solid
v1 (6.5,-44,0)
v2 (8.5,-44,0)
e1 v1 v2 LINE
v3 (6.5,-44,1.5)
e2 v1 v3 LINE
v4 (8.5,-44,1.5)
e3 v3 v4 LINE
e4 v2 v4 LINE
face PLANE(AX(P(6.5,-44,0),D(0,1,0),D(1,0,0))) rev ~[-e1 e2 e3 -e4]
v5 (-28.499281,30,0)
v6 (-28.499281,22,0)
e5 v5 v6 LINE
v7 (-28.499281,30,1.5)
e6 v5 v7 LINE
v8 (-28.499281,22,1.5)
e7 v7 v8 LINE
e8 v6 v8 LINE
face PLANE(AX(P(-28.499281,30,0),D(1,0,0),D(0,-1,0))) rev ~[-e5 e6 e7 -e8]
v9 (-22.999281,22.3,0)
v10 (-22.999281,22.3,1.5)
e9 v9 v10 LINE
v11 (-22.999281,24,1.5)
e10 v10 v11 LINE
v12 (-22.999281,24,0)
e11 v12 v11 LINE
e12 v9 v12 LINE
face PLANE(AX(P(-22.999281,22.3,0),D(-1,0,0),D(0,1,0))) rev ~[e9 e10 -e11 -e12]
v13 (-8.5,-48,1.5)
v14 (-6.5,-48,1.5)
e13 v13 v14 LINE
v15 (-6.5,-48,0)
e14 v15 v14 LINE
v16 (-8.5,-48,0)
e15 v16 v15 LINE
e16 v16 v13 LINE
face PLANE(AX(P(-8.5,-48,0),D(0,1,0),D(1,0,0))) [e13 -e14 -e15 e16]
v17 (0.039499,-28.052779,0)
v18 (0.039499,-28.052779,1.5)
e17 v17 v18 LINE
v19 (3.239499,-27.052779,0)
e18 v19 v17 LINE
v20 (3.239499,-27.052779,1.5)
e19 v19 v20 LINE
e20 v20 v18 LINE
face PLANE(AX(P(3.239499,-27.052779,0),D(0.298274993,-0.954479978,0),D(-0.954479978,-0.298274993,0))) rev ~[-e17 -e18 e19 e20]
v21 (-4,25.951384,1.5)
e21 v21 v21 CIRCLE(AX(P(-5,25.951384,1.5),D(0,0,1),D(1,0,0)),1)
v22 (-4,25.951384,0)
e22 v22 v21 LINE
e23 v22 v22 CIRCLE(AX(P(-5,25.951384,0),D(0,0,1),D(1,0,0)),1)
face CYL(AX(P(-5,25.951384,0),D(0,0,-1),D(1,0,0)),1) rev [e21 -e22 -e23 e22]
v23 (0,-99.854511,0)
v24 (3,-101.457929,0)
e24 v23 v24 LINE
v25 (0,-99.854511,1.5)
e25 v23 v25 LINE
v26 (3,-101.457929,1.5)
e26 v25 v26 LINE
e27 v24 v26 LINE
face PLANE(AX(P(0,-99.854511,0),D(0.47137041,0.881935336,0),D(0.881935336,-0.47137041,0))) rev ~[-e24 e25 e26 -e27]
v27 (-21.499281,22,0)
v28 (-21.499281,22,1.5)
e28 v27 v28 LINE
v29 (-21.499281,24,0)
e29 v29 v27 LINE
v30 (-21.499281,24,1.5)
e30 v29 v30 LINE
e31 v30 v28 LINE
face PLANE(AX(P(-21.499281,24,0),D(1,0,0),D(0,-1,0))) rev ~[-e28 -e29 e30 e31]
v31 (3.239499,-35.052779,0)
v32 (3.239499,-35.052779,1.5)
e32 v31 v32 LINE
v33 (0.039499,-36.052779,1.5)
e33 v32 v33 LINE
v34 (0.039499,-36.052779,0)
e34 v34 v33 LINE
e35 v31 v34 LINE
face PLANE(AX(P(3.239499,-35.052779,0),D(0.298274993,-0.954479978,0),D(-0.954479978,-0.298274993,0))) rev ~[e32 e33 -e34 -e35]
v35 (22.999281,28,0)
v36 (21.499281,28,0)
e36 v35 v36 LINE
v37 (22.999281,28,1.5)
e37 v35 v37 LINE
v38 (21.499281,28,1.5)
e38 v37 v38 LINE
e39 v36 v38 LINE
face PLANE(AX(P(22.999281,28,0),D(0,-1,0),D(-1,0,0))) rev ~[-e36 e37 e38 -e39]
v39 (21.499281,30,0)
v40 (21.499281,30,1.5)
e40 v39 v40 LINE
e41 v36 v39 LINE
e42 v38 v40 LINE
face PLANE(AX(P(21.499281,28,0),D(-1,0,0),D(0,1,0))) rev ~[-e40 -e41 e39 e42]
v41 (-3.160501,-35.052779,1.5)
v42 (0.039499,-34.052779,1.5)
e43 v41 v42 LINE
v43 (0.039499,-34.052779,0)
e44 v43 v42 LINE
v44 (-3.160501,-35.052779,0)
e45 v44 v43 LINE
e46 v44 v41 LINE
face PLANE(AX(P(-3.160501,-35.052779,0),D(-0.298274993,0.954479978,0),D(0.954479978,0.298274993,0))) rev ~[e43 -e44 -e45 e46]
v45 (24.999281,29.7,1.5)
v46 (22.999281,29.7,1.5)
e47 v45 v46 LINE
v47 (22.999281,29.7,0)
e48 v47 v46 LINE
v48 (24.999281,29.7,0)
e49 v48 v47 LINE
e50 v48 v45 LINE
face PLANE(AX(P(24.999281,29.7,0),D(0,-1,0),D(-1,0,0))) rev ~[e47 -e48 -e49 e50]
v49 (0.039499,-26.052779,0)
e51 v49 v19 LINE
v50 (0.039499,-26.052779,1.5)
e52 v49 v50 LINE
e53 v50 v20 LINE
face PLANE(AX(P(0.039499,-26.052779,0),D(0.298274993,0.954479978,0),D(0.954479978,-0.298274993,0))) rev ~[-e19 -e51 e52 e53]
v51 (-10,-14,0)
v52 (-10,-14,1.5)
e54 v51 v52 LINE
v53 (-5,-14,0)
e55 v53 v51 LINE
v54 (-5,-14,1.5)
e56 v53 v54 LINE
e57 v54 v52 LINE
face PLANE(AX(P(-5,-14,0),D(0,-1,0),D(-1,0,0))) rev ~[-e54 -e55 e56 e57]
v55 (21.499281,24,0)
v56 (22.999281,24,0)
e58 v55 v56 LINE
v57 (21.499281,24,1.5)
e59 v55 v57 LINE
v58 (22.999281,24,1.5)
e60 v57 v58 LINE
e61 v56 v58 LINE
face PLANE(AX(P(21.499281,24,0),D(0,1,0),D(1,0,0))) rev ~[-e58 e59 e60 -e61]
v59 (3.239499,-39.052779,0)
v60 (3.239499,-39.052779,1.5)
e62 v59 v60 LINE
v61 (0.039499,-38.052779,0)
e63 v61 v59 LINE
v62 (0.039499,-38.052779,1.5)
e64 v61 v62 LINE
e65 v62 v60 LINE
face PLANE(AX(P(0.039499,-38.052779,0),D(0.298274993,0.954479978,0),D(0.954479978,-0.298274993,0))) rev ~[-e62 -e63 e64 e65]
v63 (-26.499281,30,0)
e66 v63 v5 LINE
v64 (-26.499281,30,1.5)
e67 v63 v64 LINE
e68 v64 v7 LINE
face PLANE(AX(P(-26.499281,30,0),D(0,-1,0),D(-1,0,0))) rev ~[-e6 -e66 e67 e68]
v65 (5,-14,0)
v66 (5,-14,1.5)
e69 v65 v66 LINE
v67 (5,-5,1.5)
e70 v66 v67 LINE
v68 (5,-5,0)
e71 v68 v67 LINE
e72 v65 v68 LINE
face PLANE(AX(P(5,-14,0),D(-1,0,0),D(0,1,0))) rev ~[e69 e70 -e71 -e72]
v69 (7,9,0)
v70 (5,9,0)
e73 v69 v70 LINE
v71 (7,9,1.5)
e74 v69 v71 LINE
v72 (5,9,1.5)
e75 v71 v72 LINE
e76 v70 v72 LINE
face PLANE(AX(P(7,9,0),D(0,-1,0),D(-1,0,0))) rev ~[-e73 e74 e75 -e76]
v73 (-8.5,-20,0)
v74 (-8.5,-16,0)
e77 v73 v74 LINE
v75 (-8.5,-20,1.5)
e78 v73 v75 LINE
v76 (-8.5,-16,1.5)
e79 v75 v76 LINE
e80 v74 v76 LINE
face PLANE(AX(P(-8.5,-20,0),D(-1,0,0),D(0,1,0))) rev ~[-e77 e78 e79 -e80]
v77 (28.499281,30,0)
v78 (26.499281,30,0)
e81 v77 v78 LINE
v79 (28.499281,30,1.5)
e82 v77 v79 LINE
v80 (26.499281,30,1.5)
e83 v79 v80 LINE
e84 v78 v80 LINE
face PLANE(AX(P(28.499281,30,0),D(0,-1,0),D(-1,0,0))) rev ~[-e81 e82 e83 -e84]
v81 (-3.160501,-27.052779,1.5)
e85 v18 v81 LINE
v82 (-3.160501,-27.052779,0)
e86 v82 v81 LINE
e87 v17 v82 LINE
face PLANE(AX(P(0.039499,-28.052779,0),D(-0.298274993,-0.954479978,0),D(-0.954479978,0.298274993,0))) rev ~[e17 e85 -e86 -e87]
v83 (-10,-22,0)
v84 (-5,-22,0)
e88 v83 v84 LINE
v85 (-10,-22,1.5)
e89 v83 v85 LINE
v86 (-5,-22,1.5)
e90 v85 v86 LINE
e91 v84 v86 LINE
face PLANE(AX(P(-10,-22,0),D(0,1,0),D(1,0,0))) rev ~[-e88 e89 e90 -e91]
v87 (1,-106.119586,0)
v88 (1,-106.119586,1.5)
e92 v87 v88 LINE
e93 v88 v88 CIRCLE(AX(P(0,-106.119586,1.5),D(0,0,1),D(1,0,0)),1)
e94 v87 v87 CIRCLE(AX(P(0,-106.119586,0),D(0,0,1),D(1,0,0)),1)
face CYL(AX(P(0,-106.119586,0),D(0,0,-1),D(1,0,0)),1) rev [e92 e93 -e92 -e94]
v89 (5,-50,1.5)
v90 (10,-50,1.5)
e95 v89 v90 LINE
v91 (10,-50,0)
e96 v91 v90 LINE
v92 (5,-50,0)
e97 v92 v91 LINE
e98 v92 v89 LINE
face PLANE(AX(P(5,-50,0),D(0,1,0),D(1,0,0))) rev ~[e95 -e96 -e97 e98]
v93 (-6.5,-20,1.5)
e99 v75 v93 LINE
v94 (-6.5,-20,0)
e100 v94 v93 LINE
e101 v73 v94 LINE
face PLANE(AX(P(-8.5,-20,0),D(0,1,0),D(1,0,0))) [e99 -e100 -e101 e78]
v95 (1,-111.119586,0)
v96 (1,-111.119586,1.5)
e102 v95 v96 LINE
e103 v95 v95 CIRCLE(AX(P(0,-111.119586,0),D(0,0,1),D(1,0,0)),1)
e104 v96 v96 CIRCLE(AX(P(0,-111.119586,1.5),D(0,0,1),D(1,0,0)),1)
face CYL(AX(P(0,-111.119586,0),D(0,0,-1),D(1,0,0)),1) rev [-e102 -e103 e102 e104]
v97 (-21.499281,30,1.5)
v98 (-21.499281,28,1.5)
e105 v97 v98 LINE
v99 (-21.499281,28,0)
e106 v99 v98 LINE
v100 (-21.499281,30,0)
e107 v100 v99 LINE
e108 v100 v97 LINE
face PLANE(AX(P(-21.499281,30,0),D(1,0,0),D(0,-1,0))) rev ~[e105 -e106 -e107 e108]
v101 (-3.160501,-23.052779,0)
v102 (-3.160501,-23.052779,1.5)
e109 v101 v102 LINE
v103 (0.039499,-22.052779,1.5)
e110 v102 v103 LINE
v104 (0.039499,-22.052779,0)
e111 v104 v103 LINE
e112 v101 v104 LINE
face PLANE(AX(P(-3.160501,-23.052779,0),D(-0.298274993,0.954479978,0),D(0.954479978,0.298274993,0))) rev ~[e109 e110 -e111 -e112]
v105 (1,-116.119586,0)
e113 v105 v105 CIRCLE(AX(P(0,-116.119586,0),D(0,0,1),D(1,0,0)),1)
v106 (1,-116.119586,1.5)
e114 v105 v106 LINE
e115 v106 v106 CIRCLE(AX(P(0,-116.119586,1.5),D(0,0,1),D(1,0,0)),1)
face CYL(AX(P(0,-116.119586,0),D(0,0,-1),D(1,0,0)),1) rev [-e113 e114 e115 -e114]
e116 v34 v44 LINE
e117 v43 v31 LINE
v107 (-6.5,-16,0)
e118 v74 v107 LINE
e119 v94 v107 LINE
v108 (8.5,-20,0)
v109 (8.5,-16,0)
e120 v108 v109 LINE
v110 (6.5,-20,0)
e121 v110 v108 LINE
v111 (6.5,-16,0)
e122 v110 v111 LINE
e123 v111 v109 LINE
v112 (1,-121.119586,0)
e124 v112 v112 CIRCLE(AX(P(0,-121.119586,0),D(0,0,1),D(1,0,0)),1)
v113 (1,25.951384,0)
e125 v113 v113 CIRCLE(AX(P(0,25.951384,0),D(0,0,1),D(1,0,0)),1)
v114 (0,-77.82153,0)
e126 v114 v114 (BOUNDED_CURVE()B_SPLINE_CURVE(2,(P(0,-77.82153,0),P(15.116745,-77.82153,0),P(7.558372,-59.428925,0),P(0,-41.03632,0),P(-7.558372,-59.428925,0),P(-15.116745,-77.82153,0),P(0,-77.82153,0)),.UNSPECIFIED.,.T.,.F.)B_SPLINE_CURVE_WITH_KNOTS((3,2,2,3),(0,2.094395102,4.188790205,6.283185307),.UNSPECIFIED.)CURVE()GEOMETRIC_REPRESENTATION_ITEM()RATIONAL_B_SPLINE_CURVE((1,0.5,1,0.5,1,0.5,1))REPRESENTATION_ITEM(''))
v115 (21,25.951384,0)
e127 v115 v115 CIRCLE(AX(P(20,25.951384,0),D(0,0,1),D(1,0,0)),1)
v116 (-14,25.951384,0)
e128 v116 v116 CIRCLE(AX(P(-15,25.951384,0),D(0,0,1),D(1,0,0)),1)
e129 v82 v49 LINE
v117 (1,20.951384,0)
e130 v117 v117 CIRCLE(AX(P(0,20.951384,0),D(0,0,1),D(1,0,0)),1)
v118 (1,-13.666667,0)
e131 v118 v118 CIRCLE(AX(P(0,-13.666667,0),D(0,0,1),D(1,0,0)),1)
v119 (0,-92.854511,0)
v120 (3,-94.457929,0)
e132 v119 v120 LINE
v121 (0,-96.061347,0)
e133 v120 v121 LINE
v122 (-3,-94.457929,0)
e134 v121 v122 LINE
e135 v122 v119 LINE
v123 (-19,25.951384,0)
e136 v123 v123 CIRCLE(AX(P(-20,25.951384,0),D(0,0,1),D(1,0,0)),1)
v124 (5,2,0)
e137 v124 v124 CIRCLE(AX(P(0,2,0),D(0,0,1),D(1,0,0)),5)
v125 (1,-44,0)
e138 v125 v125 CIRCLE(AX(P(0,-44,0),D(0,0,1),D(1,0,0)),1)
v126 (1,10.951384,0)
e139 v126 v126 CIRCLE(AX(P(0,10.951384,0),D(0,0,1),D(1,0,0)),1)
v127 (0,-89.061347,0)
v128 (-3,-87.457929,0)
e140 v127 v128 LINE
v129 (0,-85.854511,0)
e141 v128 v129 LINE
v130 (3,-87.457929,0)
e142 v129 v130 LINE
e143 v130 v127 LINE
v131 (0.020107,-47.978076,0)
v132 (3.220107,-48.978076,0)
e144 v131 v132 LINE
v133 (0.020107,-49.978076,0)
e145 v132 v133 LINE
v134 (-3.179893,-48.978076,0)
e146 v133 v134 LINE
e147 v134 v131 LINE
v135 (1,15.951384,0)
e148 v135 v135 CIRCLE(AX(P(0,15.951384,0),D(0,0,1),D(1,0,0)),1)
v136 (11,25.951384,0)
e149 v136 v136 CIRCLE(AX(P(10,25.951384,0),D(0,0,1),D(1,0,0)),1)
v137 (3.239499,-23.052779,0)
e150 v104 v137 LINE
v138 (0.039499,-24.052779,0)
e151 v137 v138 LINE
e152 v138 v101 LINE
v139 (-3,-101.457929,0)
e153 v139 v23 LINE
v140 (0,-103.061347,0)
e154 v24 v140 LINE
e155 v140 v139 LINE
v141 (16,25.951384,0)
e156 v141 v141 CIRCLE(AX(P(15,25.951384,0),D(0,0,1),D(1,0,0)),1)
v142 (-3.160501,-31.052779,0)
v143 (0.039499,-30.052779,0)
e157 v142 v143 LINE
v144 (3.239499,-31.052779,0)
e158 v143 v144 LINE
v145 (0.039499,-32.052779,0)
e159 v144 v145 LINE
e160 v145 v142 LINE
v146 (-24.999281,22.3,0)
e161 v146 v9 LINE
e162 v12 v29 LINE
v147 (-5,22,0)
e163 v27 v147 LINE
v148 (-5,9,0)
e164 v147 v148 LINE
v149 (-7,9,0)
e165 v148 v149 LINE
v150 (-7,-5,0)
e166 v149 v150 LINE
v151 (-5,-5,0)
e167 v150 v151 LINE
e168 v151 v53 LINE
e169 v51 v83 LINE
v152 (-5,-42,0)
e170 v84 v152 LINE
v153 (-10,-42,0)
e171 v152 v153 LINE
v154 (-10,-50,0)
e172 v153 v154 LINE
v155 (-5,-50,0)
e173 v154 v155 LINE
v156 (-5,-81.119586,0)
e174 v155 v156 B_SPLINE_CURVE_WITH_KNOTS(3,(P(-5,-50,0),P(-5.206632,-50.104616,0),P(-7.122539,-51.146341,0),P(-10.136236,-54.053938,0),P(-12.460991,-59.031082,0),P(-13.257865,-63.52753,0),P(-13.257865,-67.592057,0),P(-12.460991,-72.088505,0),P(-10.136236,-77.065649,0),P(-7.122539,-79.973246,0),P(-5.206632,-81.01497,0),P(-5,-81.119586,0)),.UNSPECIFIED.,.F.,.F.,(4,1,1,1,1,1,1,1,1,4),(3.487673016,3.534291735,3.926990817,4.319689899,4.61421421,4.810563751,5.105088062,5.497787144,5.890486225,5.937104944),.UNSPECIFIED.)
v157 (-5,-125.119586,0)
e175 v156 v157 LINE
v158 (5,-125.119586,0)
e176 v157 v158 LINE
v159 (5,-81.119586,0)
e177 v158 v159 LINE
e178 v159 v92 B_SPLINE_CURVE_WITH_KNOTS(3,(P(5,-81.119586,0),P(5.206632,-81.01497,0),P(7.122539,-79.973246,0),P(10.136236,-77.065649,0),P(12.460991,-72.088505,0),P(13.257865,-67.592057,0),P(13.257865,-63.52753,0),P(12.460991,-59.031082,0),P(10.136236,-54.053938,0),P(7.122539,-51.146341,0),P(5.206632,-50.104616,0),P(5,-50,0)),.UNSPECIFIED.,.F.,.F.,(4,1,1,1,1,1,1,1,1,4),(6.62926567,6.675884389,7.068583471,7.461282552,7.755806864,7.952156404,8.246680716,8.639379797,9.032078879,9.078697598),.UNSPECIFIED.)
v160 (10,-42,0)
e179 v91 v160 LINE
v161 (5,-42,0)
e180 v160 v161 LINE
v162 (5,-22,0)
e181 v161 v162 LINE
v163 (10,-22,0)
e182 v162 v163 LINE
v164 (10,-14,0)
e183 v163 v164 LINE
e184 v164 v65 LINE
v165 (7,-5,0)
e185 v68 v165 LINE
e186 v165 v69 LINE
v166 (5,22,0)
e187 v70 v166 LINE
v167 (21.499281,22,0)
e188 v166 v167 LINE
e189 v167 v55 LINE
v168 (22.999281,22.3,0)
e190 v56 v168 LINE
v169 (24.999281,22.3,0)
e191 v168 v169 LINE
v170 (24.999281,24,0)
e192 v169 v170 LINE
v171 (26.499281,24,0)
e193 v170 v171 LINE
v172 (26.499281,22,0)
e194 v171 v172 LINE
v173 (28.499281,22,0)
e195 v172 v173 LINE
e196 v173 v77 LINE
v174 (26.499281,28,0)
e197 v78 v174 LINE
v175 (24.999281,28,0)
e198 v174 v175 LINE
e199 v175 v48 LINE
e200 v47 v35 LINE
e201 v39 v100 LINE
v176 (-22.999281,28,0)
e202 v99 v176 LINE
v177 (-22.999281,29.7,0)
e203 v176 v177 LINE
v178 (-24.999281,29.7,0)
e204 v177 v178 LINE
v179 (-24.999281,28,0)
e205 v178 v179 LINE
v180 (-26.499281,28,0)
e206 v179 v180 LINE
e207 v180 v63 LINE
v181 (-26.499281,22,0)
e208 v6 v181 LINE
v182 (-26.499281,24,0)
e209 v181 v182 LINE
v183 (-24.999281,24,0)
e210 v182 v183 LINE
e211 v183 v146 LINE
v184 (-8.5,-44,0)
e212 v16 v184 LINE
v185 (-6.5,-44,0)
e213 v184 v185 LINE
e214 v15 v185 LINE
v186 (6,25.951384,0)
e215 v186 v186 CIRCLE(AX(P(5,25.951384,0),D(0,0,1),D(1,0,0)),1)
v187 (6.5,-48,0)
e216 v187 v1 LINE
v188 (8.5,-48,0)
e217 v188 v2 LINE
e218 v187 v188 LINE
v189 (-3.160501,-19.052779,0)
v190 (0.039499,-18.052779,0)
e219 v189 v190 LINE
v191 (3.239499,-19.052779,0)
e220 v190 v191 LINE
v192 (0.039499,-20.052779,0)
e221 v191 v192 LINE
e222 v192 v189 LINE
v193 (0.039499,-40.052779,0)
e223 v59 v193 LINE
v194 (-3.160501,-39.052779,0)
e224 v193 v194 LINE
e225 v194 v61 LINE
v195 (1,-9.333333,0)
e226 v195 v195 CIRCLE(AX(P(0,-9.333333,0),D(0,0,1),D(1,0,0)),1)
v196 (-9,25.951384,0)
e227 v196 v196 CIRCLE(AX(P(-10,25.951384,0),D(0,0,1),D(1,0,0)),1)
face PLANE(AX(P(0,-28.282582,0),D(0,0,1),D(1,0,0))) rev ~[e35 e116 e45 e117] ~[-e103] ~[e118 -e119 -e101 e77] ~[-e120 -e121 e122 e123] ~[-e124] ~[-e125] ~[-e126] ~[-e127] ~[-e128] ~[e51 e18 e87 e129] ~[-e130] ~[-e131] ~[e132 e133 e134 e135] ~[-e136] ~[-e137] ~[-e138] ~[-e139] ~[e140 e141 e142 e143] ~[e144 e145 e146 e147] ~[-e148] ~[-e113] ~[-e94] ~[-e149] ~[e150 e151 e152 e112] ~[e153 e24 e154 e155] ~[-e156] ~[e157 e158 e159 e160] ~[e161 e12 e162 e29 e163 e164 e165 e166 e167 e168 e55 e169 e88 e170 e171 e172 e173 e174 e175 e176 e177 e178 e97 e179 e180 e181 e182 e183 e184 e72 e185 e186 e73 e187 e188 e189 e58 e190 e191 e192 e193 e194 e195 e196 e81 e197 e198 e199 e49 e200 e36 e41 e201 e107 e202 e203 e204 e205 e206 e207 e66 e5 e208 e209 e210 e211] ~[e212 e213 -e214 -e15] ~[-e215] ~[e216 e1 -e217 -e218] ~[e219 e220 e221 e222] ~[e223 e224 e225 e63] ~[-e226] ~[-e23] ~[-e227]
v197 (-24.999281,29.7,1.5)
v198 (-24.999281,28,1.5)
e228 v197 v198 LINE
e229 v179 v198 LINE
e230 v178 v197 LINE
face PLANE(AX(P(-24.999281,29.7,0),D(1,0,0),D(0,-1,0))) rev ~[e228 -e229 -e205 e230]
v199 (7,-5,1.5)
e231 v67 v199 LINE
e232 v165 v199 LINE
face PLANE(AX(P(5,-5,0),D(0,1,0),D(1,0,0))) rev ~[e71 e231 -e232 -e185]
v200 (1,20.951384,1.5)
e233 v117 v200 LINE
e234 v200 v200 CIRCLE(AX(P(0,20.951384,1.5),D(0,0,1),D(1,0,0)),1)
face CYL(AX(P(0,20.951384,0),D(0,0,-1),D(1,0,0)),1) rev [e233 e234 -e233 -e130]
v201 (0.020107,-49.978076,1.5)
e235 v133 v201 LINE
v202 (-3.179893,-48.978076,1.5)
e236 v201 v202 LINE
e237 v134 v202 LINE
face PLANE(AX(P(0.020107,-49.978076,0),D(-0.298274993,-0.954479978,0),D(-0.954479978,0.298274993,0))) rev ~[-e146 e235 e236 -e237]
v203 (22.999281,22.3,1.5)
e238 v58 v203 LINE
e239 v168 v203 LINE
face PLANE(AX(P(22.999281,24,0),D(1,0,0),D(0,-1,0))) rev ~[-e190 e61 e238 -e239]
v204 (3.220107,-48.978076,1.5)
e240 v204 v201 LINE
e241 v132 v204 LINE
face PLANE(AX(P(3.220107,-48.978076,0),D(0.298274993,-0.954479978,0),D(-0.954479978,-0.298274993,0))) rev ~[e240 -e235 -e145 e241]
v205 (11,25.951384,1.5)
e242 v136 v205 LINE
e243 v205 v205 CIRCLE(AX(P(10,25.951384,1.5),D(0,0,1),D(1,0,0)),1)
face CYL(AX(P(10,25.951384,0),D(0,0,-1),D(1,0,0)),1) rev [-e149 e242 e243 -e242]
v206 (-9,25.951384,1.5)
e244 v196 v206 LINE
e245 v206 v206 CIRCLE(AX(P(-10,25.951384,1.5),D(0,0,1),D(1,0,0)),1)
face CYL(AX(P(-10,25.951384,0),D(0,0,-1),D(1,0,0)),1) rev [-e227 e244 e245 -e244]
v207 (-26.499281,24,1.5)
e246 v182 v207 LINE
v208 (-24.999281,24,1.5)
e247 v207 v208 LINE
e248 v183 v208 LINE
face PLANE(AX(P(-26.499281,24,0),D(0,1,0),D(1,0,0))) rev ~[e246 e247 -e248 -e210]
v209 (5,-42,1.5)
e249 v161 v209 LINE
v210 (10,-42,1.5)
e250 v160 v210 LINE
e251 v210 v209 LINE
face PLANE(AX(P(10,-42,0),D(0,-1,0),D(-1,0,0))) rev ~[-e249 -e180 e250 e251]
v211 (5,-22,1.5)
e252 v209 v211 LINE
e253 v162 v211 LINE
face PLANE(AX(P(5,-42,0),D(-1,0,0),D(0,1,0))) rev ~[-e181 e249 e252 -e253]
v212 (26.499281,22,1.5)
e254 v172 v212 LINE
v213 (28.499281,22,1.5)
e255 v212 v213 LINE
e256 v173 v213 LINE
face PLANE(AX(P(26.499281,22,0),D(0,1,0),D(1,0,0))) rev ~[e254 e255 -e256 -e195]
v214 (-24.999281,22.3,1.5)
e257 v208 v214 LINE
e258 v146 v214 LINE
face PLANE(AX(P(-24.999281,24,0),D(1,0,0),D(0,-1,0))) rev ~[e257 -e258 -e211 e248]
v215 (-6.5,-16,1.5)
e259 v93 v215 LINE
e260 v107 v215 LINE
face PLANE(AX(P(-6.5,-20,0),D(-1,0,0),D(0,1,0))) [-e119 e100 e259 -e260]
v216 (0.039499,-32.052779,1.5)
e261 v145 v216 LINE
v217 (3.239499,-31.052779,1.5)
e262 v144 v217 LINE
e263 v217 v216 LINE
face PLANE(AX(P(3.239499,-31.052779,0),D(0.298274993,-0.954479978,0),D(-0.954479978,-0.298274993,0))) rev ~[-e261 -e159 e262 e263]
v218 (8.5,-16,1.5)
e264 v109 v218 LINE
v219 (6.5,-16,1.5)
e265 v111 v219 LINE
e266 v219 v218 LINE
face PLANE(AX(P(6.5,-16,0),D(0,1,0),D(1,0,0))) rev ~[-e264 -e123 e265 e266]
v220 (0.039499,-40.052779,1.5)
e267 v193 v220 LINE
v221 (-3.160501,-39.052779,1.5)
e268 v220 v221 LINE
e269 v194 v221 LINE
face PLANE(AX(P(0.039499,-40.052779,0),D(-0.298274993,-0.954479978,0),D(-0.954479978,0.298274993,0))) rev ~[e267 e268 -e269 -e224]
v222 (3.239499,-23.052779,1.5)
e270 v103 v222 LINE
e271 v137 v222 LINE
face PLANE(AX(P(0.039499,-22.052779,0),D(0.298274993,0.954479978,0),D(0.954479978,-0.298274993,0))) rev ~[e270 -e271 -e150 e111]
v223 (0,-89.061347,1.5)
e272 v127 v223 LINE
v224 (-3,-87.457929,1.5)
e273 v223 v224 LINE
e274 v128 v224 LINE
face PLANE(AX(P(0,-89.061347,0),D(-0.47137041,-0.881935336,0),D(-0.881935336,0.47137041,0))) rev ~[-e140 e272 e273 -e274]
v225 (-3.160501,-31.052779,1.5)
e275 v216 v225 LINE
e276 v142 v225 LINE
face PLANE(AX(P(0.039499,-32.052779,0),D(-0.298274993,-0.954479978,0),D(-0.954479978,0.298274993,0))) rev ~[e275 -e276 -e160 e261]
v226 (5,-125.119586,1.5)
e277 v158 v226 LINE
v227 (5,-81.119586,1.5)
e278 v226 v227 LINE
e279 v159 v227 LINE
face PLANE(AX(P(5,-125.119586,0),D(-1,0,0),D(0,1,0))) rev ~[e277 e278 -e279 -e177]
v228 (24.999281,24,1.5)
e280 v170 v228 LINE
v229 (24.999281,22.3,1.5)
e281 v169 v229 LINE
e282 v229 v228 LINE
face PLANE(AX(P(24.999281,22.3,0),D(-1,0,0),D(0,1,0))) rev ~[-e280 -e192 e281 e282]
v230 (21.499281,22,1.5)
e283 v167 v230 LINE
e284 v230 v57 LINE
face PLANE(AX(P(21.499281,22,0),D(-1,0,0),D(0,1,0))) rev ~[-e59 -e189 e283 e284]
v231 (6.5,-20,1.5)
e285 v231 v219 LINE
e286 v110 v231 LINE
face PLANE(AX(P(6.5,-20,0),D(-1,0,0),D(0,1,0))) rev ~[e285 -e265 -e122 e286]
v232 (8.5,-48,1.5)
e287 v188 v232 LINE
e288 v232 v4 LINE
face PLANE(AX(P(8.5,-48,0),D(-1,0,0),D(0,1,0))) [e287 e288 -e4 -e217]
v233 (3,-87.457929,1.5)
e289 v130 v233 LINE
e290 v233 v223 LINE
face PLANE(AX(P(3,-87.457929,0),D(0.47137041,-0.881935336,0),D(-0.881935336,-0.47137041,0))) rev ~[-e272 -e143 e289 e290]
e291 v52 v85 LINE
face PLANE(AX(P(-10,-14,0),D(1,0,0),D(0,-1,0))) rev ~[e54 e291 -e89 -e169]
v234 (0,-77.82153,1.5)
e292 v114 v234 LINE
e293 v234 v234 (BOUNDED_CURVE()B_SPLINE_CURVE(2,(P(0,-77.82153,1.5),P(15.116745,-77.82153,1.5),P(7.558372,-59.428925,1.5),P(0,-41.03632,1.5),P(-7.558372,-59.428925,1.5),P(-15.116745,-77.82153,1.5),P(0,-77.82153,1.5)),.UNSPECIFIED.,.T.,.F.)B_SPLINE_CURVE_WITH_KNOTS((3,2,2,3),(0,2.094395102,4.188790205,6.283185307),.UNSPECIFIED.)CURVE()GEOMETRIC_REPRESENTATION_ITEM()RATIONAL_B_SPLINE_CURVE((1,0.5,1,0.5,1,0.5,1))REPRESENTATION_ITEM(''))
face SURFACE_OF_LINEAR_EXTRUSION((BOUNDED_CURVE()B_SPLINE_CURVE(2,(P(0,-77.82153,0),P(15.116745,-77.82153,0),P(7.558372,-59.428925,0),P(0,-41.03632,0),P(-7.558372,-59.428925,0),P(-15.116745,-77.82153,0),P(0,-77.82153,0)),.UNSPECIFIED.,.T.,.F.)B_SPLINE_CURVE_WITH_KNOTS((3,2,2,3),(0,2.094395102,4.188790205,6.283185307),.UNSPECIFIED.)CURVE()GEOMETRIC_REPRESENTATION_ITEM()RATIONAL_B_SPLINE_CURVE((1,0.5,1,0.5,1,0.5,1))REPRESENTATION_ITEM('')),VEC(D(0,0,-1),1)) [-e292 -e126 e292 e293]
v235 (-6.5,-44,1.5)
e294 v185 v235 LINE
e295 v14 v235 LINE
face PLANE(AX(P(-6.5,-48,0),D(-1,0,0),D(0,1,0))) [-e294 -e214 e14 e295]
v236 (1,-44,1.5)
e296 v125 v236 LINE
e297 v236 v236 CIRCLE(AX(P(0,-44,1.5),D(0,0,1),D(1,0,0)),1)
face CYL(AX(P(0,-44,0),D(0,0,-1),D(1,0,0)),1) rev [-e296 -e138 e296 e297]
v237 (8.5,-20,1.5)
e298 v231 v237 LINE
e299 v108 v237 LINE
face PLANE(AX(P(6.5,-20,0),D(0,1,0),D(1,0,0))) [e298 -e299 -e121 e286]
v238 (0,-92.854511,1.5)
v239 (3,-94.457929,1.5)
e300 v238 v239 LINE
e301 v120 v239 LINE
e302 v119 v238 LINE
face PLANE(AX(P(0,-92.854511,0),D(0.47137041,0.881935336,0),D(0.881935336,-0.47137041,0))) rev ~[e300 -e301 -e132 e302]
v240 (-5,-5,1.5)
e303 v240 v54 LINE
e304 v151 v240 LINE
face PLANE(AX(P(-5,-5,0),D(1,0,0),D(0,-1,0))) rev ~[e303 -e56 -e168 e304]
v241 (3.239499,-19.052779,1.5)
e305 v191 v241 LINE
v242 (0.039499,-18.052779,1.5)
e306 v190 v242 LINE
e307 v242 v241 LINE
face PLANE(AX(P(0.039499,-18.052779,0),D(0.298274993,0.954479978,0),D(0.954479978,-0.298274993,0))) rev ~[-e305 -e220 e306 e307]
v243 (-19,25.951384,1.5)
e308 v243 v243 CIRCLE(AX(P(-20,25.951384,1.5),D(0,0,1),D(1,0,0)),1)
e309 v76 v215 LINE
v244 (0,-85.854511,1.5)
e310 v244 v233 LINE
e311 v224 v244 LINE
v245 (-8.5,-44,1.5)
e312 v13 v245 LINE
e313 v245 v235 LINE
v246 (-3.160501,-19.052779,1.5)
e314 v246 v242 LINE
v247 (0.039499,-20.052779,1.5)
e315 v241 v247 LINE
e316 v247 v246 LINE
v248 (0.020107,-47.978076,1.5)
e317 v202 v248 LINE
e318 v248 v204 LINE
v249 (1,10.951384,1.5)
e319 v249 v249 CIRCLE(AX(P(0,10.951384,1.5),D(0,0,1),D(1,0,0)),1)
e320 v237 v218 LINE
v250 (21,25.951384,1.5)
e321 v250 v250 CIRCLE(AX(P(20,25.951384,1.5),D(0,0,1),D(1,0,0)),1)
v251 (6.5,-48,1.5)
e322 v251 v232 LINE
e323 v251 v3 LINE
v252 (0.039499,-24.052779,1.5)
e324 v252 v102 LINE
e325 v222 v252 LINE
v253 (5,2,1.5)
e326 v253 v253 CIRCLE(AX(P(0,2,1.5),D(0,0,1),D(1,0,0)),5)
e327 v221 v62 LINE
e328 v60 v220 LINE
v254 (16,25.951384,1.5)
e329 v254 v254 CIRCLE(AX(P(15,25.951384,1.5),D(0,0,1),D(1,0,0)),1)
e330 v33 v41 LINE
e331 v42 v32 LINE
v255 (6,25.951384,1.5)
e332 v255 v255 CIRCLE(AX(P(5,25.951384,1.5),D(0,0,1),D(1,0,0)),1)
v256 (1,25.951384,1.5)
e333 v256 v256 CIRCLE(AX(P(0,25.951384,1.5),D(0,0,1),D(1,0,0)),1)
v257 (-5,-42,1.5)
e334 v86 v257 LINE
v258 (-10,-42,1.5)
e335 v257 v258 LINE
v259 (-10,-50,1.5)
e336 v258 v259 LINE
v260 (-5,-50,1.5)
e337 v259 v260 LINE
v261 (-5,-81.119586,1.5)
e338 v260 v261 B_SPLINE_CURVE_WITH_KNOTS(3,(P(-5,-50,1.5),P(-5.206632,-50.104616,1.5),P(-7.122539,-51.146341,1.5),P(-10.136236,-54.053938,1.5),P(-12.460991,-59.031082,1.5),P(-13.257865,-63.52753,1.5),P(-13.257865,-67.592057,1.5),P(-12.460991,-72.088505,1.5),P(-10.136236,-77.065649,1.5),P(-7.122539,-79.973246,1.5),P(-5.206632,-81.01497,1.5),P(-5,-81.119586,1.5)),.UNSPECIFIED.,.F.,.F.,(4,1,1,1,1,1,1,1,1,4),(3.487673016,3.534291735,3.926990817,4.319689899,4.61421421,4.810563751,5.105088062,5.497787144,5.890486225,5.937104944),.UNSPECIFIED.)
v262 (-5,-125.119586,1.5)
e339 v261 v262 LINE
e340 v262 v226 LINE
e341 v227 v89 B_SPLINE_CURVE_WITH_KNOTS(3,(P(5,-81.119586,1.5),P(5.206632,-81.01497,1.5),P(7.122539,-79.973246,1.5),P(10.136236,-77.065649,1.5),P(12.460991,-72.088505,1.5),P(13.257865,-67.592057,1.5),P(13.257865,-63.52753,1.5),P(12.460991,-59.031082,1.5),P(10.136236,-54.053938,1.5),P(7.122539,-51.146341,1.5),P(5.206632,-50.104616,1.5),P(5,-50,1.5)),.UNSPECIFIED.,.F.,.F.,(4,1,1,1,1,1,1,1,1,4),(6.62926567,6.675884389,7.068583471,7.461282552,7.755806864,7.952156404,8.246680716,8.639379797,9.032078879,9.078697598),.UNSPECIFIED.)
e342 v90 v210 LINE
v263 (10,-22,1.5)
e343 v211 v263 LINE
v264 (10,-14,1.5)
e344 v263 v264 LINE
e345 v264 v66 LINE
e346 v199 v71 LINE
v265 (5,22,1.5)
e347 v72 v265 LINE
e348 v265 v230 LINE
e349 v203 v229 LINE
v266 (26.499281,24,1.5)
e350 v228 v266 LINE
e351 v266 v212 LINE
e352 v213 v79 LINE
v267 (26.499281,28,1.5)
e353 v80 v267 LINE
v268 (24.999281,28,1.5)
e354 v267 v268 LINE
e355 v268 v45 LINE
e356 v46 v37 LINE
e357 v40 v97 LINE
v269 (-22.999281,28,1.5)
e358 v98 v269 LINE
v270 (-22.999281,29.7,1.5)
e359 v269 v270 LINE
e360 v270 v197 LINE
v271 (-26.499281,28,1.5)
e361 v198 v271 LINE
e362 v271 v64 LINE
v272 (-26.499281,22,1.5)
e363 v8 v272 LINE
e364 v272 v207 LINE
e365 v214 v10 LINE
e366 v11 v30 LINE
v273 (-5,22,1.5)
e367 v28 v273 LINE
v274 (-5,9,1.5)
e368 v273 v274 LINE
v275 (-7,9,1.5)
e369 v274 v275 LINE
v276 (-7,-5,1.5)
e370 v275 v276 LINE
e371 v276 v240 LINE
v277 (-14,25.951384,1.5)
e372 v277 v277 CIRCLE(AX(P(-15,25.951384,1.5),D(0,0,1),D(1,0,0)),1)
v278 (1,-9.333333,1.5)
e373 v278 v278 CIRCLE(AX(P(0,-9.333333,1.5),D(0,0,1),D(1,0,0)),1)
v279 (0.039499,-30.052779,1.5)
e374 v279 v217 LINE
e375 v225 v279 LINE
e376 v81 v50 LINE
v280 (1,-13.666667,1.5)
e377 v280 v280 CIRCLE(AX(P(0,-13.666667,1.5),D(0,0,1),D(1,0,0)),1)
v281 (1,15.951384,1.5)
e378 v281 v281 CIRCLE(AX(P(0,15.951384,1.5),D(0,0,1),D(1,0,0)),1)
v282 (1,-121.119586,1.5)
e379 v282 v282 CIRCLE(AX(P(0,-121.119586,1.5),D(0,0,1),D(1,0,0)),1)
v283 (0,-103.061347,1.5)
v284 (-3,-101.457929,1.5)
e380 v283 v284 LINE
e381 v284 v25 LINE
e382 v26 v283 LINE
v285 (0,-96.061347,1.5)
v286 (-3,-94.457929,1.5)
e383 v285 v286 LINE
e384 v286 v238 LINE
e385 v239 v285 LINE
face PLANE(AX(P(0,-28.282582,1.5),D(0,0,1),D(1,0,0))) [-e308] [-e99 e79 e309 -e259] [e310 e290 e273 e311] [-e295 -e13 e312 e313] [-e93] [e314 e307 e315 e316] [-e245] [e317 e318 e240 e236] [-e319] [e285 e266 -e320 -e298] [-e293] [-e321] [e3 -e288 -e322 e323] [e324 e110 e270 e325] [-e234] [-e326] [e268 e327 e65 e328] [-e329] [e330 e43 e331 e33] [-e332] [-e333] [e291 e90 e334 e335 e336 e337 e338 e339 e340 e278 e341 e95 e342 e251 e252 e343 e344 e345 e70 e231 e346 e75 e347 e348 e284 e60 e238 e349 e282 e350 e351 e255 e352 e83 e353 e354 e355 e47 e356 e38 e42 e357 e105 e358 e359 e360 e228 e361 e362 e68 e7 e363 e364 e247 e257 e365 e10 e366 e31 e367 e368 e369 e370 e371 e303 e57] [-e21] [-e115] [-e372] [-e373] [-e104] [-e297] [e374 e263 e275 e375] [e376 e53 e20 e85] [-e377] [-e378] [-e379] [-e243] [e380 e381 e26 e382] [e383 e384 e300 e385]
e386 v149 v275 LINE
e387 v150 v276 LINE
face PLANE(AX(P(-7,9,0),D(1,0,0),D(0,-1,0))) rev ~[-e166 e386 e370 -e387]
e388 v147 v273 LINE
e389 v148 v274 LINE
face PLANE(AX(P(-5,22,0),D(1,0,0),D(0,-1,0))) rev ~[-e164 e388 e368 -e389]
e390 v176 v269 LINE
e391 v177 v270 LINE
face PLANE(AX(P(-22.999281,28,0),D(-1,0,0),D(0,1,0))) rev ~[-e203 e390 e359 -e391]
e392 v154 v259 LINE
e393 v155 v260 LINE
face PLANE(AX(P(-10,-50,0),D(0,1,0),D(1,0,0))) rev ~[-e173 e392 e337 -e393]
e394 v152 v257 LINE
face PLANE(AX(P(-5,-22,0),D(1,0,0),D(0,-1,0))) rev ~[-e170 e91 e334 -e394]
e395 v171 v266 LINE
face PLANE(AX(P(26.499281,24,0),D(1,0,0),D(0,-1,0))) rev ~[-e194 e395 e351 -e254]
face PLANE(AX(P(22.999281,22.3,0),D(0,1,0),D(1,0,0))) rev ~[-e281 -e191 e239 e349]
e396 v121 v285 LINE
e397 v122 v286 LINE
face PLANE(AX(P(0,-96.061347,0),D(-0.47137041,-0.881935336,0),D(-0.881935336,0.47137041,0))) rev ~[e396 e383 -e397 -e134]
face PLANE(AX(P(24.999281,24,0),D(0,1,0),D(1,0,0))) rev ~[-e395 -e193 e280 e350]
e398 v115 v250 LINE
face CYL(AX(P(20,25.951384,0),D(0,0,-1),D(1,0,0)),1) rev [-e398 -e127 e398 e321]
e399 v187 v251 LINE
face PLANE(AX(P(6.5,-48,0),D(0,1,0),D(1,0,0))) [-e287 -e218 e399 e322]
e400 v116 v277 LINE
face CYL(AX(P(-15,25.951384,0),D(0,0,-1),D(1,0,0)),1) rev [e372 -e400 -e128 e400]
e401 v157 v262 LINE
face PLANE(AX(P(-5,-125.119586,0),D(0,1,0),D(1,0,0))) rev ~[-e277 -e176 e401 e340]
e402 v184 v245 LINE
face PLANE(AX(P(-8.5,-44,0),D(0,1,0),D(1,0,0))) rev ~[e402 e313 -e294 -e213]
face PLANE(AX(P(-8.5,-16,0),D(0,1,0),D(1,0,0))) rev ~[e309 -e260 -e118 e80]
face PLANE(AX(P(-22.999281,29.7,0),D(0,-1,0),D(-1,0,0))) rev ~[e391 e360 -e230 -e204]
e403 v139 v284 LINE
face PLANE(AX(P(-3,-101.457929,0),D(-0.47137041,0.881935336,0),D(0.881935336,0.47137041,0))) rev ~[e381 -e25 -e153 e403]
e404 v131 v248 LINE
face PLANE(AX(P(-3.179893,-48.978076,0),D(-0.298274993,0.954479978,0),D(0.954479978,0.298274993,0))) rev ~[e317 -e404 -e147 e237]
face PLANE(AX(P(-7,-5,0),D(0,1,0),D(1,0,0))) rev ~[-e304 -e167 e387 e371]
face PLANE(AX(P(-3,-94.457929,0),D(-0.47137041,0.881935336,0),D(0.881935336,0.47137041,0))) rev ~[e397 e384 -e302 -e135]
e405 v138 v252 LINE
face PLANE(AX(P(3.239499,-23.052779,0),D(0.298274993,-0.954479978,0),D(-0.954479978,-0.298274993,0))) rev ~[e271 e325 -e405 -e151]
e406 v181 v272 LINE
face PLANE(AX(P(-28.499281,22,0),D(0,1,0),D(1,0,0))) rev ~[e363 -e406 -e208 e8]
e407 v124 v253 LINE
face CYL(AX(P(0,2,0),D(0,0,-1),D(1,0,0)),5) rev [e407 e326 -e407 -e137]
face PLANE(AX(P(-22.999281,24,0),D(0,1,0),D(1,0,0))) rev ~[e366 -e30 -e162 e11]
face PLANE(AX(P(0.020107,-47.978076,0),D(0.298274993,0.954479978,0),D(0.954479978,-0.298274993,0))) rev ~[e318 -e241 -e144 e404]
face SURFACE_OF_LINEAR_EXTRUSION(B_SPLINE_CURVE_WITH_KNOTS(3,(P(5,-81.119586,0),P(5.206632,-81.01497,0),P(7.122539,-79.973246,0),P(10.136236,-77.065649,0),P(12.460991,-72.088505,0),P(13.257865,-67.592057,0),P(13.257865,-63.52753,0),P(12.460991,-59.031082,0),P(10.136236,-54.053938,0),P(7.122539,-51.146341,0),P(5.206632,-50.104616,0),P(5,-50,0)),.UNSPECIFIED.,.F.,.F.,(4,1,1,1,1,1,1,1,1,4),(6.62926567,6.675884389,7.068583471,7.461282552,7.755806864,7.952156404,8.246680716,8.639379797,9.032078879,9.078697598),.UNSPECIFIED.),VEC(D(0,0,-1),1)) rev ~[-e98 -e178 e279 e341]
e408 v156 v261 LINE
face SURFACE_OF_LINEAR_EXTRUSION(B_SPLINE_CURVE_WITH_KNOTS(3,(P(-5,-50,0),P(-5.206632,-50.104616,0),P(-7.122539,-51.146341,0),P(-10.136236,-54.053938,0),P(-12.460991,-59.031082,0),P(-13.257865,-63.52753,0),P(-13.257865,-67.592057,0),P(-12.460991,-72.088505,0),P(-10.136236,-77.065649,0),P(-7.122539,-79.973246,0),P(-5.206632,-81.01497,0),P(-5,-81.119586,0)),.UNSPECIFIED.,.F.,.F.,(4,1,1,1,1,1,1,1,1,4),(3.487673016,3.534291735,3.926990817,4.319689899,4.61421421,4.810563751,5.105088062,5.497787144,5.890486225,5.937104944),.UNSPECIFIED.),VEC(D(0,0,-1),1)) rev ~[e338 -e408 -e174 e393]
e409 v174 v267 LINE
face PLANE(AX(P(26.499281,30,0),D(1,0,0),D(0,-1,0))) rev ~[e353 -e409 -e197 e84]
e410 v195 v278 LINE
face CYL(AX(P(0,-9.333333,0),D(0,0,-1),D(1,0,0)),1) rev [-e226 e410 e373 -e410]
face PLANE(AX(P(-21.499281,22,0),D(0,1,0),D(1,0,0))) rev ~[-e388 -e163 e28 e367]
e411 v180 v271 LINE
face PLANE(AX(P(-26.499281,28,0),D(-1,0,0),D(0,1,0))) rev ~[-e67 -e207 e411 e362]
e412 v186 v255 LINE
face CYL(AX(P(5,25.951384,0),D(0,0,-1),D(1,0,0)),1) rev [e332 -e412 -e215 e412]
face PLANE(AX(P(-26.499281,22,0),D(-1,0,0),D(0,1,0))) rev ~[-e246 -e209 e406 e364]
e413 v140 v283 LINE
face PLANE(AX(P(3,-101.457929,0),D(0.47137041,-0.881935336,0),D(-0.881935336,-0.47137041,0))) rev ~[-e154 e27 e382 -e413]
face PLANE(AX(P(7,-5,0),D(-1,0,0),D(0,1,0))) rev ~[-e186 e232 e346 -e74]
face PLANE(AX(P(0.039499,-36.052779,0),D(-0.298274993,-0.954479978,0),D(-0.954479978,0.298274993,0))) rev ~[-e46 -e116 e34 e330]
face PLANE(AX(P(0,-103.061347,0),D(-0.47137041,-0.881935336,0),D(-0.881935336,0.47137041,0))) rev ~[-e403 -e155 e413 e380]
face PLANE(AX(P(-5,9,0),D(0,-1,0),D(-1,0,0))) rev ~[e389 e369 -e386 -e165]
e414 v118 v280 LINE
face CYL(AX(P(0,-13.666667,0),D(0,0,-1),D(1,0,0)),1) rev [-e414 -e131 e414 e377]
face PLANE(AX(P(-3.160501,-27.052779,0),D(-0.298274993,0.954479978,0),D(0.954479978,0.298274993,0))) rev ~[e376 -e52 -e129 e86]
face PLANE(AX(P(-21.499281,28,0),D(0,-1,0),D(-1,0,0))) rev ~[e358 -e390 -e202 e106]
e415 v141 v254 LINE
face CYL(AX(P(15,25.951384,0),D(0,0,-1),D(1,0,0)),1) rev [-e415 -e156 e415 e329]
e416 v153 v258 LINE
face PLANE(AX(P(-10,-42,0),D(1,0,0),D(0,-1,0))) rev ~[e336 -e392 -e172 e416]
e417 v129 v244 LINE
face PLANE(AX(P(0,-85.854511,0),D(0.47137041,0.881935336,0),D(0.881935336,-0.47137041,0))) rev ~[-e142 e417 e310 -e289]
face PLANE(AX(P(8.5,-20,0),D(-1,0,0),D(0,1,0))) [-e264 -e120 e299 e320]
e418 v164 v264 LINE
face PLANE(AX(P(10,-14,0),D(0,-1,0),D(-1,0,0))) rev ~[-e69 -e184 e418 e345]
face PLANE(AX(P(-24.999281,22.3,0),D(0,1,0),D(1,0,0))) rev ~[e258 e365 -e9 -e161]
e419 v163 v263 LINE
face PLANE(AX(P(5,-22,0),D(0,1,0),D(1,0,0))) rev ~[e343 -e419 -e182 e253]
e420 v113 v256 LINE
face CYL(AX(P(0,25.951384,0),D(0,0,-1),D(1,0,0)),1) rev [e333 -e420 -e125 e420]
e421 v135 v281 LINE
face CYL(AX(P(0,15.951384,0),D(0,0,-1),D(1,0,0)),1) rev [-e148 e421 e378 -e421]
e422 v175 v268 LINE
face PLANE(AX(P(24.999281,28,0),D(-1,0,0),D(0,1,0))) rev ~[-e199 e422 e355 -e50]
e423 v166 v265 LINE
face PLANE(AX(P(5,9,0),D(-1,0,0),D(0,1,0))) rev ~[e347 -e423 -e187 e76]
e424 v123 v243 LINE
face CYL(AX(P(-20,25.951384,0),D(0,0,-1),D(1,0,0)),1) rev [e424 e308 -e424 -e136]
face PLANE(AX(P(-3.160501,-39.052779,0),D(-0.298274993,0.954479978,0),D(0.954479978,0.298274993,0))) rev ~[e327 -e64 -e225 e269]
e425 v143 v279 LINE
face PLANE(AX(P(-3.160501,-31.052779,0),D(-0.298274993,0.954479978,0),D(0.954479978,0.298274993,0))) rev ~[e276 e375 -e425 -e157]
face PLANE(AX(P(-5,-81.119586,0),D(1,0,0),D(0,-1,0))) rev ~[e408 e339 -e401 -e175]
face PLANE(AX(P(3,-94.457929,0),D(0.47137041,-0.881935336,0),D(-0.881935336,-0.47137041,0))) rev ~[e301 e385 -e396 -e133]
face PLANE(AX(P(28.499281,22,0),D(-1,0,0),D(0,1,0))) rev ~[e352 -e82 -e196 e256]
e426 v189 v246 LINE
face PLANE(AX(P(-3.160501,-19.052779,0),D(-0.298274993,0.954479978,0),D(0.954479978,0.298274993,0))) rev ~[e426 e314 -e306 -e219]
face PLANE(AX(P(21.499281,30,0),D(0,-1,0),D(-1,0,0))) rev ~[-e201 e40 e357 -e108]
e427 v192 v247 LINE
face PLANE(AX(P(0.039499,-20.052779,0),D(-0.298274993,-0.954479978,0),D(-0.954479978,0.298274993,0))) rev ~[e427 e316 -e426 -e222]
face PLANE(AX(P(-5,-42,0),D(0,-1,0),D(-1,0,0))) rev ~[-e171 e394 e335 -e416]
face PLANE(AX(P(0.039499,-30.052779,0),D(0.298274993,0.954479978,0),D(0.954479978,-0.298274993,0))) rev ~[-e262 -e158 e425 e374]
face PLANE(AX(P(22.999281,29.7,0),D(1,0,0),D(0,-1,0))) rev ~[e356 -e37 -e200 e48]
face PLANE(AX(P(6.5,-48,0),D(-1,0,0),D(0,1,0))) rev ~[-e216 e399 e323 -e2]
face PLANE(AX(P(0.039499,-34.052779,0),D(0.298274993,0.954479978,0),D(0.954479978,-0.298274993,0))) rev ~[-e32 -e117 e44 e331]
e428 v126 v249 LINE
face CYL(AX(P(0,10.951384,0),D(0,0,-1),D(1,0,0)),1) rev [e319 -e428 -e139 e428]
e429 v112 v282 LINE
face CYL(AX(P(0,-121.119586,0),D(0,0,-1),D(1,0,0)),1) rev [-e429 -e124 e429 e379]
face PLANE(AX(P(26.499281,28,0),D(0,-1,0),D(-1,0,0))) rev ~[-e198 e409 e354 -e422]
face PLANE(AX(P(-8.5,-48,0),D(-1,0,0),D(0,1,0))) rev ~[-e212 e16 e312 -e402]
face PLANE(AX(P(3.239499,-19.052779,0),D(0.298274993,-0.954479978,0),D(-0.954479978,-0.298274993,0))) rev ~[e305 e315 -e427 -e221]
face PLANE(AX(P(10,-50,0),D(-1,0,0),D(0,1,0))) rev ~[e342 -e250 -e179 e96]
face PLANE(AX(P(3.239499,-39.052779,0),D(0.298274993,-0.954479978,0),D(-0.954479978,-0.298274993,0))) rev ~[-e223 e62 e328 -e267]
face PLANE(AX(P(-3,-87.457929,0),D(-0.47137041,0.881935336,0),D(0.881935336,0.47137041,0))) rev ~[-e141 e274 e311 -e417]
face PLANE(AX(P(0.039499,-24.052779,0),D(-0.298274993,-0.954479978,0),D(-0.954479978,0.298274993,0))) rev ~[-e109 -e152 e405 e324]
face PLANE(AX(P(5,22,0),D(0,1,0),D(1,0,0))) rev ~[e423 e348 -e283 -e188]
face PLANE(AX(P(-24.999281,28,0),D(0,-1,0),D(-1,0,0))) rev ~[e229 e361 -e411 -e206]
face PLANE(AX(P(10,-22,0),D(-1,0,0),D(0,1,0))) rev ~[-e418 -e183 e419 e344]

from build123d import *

# Parameters (mm, degrees)
SKETCH_1_W      = 2
SKETCH_1_H      = 4
SKETCH_1_R      = 1
SKETCH_1_R_2    = 5
EXTRUDE_1_DEPTH = 1.5


with BuildPart() as part:
    # 草图1 → 凸台-拉伸1 (new body)
    with BuildSketch(Plane.XY):
        with BuildLine():
            Line((21.499281064, 30), (-21.499281064, 30))
            Line((-21.499281064, 30), (-21.499281064, 28))
            Line((-21.499281064, 28), (-22.999281064, 28))
            Line((-22.999281064, 28), (-22.999281064, 29.7))
            Line((-22.999281064, 29.7), (-24.999281064, 29.7))
            Line((-24.999281064, 29.7), (-24.999281064, 28))
            Line((-24.999281064, 28), (-26.499281064, 28))
            Line((-26.499281064, 28), (-26.499281064, 30))
            Line((-26.499281064, 30), (-28.499281064, 30))
            Line((-28.499281064, 30), (-28.499281064, 22))
            Line((-28.499281064, 22), (-26.499281064, 22))
            Line((-26.499281064, 22), (-26.499281064, 24))
            Line((-26.499281064, 24), (-24.999281064, 24))
            Line((-24.999281064, 24), (-24.999281064, 22.3))
            Line((-24.999281064, 22.3), (-22.999281064, 22.3))
            Line((-22.999281064, 22.3), (-22.999281064, 24))
            Line((-22.999281064, 24), (-21.499281064, 24))
            Line((-21.499281064, 24), (-21.499281064, 22))
            Line((-21.499281064, 22), (-5, 22))
            Line((-5, 22), (-5, 9))
            Line((-5, 9), (-7, 9))
            Line((-7, 9), (-7, -5))
            Line((-7, -5), (-5, -5))
            Line((-5, -5), (-5, -14))
            Line((-5, -14), (-10, -14))
            Line((-10, -14), (-10, -22))
            Line((-10, -22), (-5, -22))
            Line((-5, -22), (-5, -42))
            Line((-5, -42), (-10, -42))
            Line((-10, -42), (-10, -50))
            Line((-10, -50), (-5, -50))
            add(Edge.make_bspline(
                [(-5, -50), (-5.206631572, -50.1046163), (-7.122538881, -51.146340962), (-10.136236083, -54.053937604), (-12.460991296, -59.031081614), (-13.257864896, -63.527529667), (-13.257864896, -67.592056821), (-12.460991296, -72.088504874), (-10.136236082, -77.065648884), (-7.122538881, -79.973245525), (-5.206631571, -81.014970188), (-5, -81.119586487)],
                knots=[3.487673016, 3.487673016, 3.487673016, 3.487673016, 3.534291735, 3.926990817, 4.319689899, 4.61421421, 4.810563751, 5.105088062, 5.497787144, 5.890486225, 5.937104944, 5.937104944, 5.937104944, 5.937104944], degree=3))
            Line((-5, -81.119586487), (-5, -125.119586487))
            Line((-5, -125.119586487), (5, -125.119586487))
            Line((5, -125.119586487), (5, -81.119586487))
            add(Edge.make_bspline(
                [(5, -81.119586487), (5.206631572, -81.014970188), (7.122538881, -79.973245525), (10.136236083, -77.065648883), (12.460991296, -72.088504873), (13.257864896, -67.592056821), (13.257864896, -63.527529666), (12.460991296, -59.031081614), (10.136236082, -54.053937604), (7.122538881, -51.146340962), (5.206631571, -50.1046163), (5, -50)],
                knots=[6.62926567, 6.62926567, 6.62926567, 6.62926567, 6.675884389, 7.068583471, 7.461282552, 7.755806864, 7.952156404, 8.246680716, 8.639379797, 9.032078879, 9.078697598, 9.078697598, 9.078697598, 9.078697598], degree=3))
            Line((5, -50), (10, -50))
            Line((10, -50), (10, -42))
            Line((10, -42), (5, -42))
            Line((5, -42), (5, -22))
            Line((5, -22), (10, -22))
            Line((10, -22), (10, -14))
            Line((10, -14), (5, -14))
            Line((5, -14), (5, -5))
            Line((5, -5), (7, -5))
            Line((7, -5), (7, 9))
            Line((7, 9), (5, 9))
            Line((5, 9), (5, 22))
            Line((5, 22), (21.499281064, 22))
            Line((21.499281064, 22), (21.499281064, 24))
            Line((21.499281064, 24), (22.999281064, 24))
            Line((22.999281064, 24), (22.999281064, 22.3))
            Line((22.999281064, 22.3), (24.999281064, 22.3))
            Line((24.999281064, 22.3), (24.999281064, 24))
            Line((24.999281064, 24), (26.499281064, 24))
            Line((26.499281064, 24), (26.499281064, 22))
            Line((26.499281064, 22), (28.499281064, 22))
            Line((28.499281064, 22), (28.499281064, 30))
            Line((28.499281064, 30), (26.499281064, 30))
            Line((26.499281064, 30), (26.499281064, 28))
            Line((26.499281064, 28), (24.999281064, 28))
            Line((24.999281064, 28), (24.999281064, 29.7))
            Line((24.999281064, 29.7), (22.999281064, 29.7))
            Line((22.999281064, 29.7), (22.999281064, 28))
            Line((22.999281064, 28), (21.499281064, 28))
            Line((21.499281064, 28), (21.499281064, 30))
        make_face()
        Polygon((3.220107448, -48.978075634), (0.020107448, -49.978075634), (-3.179892552, -48.978075634), (0.020107448, -47.978075634), align=None, mode=Mode.SUBTRACT)
        with Locations((-7.5, -46)):
            Rectangle(SKETCH_1_W, SKETCH_1_H, mode=Mode.SUBTRACT)
        with Locations((0, -44)):
            Circle(SKETCH_1_R, mode=Mode.SUBTRACT)
        with Locations((-7.5, -18)):
            Rectangle(SKETCH_1_W, SKETCH_1_H, mode=Mode.SUBTRACT)
        with Locations((0, -9.333333333)):
            Circle(SKETCH_1_R, mode=Mode.SUBTRACT)
        with Locations((-20, 25.95138361)):
            Circle(SKETCH_1_R, mode=Mode.SUBTRACT)
        with Locations((-15, 25.95138361)):
            Circle(SKETCH_1_R, mode=Mode.SUBTRACT)
        with Locations((0, 2)):
            Circle(SKETCH_1_R_2, mode=Mode.SUBTRACT)
        with Locations((-10, 25.95138361)):
            Circle(SKETCH_1_R, mode=Mode.SUBTRACT)
        with Locations((-5, 25.95138361)):
            Circle(SKETCH_1_R, mode=Mode.SUBTRACT)
        with Locations((0, 25.95138361)):
            Circle(SKETCH_1_R, mode=Mode.SUBTRACT)
        Polygon((-3.160500662, -39.05277851), (0.039499338, -38.05277851), (3.239499338, -39.05277851), (0.039499338, -40.05277851), align=None, mode=Mode.SUBTRACT)
        Polygon((3.239499338, -35.05277851), (0.039499338, -36.05277851), (-3.160500662, -35.05277851), (0.039499338, -34.05277851), align=None, mode=Mode.SUBTRACT)
        Polygon((3.239499338, -31.05277851), (0.039499338, -32.05277851), (-3.160500662, -31.05277851), (0.039499338, -30.05277851), align=None, mode=Mode.SUBTRACT)
        with Locations((7.5, -46)):
            Rectangle(SKETCH_1_W, SKETCH_1_H, mode=Mode.SUBTRACT)
        Polygon((3.239499338, -27.05277851), (0.039499338, -28.05277851), (-3.160500662, -27.05277851), (0.039499338, -26.05277851), align=None, mode=Mode.SUBTRACT)
        Polygon((3.239499338, -23.05277851), (0.039499338, -24.05277851), (-3.160500662, -23.05277851), (0.039499338, -22.05277851), align=None, mode=Mode.SUBTRACT)
        Polygon((3.239499338, -19.05277851), (0.039499338, -20.05277851), (-3.160500662, -19.05277851), (0.039499338, -18.05277851), align=None, mode=Mode.SUBTRACT)
        with Locations((0, -13.666666667)):
            Circle(SKETCH_1_R, mode=Mode.SUBTRACT)
        with Locations((7.5, -18)):
            Rectangle(SKETCH_1_W, SKETCH_1_H, mode=Mode.SUBTRACT)
        with Locations((0, 10.95138361)):
            Circle(SKETCH_1_R, mode=Mode.SUBTRACT)
        with Locations((0, 15.95138361)):
            Circle(SKETCH_1_R, mode=Mode.SUBTRACT)
        with Locations((0, 20.95138361)):
            Circle(SKETCH_1_R, mode=Mode.SUBTRACT)
        with Locations((5, 25.95138361)):
            Circle(SKETCH_1_R, mode=Mode.SUBTRACT)
        with Locations((10, 25.95138361)):
            Circle(SKETCH_1_R, mode=Mode.SUBTRACT)
        with Locations((15, 25.95138361)):
            Circle(SKETCH_1_R, mode=Mode.SUBTRACT)
        with Locations((20, 25.95138361)):
            Circle(SKETCH_1_R, mode=Mode.SUBTRACT)
        with BuildLine():
            add(Edge.make_bspline(
                [(0, -77.82152984), (15.11674465, -77.82152984), (7.558372325, -59.428924948), (0, -41.036320056), (-7.558372325, -59.428924948), (-15.11674465, -77.82152984), (0, -77.82152984)],
                knots=[0, 0, 0, 2.094395102, 2.094395102, 4.188790205, 4.188790205, 6.283185307, 6.283185307, 6.283185307], degree=2, weights=[1, 0.5, 1, 0.5, 1, 0.5, 1]))
        make_face(mode=Mode.SUBTRACT)
        Polygon((3, -87.457928946), (0, -89.061347215), (-3, -87.457928946), (0, -85.854510677), align=None, mode=Mode.SUBTRACT)
        with Locations((0, -121.119586487)):
            Circle(SKETCH_1_R, mode=Mode.SUBTRACT)
        with Locations((0, -116.119586487)):
            Circle(SKETCH_1_R, mode=Mode.SUBTRACT)
        with Locations((0, -111.119586487)):
            Circle(SKETCH_1_R, mode=Mode.SUBTRACT)
        with Locations((0, -106.119586487)):
            Circle(SKETCH_1_R, mode=Mode.SUBTRACT)
        Polygon((0, -99.854510677), (3, -101.457928946), (0, -103.061347215), (-3, -101.457928946), align=None, mode=Mode.SUBTRACT)
        Polygon((0, -92.854510677), (3, -94.457928946), (0, -96.061347215), (-3, -94.457928946), align=None, mode=Mode.SUBTRACT)
    extrude(amount=EXTRUDE_1_DEPTH)


solid = part.part
